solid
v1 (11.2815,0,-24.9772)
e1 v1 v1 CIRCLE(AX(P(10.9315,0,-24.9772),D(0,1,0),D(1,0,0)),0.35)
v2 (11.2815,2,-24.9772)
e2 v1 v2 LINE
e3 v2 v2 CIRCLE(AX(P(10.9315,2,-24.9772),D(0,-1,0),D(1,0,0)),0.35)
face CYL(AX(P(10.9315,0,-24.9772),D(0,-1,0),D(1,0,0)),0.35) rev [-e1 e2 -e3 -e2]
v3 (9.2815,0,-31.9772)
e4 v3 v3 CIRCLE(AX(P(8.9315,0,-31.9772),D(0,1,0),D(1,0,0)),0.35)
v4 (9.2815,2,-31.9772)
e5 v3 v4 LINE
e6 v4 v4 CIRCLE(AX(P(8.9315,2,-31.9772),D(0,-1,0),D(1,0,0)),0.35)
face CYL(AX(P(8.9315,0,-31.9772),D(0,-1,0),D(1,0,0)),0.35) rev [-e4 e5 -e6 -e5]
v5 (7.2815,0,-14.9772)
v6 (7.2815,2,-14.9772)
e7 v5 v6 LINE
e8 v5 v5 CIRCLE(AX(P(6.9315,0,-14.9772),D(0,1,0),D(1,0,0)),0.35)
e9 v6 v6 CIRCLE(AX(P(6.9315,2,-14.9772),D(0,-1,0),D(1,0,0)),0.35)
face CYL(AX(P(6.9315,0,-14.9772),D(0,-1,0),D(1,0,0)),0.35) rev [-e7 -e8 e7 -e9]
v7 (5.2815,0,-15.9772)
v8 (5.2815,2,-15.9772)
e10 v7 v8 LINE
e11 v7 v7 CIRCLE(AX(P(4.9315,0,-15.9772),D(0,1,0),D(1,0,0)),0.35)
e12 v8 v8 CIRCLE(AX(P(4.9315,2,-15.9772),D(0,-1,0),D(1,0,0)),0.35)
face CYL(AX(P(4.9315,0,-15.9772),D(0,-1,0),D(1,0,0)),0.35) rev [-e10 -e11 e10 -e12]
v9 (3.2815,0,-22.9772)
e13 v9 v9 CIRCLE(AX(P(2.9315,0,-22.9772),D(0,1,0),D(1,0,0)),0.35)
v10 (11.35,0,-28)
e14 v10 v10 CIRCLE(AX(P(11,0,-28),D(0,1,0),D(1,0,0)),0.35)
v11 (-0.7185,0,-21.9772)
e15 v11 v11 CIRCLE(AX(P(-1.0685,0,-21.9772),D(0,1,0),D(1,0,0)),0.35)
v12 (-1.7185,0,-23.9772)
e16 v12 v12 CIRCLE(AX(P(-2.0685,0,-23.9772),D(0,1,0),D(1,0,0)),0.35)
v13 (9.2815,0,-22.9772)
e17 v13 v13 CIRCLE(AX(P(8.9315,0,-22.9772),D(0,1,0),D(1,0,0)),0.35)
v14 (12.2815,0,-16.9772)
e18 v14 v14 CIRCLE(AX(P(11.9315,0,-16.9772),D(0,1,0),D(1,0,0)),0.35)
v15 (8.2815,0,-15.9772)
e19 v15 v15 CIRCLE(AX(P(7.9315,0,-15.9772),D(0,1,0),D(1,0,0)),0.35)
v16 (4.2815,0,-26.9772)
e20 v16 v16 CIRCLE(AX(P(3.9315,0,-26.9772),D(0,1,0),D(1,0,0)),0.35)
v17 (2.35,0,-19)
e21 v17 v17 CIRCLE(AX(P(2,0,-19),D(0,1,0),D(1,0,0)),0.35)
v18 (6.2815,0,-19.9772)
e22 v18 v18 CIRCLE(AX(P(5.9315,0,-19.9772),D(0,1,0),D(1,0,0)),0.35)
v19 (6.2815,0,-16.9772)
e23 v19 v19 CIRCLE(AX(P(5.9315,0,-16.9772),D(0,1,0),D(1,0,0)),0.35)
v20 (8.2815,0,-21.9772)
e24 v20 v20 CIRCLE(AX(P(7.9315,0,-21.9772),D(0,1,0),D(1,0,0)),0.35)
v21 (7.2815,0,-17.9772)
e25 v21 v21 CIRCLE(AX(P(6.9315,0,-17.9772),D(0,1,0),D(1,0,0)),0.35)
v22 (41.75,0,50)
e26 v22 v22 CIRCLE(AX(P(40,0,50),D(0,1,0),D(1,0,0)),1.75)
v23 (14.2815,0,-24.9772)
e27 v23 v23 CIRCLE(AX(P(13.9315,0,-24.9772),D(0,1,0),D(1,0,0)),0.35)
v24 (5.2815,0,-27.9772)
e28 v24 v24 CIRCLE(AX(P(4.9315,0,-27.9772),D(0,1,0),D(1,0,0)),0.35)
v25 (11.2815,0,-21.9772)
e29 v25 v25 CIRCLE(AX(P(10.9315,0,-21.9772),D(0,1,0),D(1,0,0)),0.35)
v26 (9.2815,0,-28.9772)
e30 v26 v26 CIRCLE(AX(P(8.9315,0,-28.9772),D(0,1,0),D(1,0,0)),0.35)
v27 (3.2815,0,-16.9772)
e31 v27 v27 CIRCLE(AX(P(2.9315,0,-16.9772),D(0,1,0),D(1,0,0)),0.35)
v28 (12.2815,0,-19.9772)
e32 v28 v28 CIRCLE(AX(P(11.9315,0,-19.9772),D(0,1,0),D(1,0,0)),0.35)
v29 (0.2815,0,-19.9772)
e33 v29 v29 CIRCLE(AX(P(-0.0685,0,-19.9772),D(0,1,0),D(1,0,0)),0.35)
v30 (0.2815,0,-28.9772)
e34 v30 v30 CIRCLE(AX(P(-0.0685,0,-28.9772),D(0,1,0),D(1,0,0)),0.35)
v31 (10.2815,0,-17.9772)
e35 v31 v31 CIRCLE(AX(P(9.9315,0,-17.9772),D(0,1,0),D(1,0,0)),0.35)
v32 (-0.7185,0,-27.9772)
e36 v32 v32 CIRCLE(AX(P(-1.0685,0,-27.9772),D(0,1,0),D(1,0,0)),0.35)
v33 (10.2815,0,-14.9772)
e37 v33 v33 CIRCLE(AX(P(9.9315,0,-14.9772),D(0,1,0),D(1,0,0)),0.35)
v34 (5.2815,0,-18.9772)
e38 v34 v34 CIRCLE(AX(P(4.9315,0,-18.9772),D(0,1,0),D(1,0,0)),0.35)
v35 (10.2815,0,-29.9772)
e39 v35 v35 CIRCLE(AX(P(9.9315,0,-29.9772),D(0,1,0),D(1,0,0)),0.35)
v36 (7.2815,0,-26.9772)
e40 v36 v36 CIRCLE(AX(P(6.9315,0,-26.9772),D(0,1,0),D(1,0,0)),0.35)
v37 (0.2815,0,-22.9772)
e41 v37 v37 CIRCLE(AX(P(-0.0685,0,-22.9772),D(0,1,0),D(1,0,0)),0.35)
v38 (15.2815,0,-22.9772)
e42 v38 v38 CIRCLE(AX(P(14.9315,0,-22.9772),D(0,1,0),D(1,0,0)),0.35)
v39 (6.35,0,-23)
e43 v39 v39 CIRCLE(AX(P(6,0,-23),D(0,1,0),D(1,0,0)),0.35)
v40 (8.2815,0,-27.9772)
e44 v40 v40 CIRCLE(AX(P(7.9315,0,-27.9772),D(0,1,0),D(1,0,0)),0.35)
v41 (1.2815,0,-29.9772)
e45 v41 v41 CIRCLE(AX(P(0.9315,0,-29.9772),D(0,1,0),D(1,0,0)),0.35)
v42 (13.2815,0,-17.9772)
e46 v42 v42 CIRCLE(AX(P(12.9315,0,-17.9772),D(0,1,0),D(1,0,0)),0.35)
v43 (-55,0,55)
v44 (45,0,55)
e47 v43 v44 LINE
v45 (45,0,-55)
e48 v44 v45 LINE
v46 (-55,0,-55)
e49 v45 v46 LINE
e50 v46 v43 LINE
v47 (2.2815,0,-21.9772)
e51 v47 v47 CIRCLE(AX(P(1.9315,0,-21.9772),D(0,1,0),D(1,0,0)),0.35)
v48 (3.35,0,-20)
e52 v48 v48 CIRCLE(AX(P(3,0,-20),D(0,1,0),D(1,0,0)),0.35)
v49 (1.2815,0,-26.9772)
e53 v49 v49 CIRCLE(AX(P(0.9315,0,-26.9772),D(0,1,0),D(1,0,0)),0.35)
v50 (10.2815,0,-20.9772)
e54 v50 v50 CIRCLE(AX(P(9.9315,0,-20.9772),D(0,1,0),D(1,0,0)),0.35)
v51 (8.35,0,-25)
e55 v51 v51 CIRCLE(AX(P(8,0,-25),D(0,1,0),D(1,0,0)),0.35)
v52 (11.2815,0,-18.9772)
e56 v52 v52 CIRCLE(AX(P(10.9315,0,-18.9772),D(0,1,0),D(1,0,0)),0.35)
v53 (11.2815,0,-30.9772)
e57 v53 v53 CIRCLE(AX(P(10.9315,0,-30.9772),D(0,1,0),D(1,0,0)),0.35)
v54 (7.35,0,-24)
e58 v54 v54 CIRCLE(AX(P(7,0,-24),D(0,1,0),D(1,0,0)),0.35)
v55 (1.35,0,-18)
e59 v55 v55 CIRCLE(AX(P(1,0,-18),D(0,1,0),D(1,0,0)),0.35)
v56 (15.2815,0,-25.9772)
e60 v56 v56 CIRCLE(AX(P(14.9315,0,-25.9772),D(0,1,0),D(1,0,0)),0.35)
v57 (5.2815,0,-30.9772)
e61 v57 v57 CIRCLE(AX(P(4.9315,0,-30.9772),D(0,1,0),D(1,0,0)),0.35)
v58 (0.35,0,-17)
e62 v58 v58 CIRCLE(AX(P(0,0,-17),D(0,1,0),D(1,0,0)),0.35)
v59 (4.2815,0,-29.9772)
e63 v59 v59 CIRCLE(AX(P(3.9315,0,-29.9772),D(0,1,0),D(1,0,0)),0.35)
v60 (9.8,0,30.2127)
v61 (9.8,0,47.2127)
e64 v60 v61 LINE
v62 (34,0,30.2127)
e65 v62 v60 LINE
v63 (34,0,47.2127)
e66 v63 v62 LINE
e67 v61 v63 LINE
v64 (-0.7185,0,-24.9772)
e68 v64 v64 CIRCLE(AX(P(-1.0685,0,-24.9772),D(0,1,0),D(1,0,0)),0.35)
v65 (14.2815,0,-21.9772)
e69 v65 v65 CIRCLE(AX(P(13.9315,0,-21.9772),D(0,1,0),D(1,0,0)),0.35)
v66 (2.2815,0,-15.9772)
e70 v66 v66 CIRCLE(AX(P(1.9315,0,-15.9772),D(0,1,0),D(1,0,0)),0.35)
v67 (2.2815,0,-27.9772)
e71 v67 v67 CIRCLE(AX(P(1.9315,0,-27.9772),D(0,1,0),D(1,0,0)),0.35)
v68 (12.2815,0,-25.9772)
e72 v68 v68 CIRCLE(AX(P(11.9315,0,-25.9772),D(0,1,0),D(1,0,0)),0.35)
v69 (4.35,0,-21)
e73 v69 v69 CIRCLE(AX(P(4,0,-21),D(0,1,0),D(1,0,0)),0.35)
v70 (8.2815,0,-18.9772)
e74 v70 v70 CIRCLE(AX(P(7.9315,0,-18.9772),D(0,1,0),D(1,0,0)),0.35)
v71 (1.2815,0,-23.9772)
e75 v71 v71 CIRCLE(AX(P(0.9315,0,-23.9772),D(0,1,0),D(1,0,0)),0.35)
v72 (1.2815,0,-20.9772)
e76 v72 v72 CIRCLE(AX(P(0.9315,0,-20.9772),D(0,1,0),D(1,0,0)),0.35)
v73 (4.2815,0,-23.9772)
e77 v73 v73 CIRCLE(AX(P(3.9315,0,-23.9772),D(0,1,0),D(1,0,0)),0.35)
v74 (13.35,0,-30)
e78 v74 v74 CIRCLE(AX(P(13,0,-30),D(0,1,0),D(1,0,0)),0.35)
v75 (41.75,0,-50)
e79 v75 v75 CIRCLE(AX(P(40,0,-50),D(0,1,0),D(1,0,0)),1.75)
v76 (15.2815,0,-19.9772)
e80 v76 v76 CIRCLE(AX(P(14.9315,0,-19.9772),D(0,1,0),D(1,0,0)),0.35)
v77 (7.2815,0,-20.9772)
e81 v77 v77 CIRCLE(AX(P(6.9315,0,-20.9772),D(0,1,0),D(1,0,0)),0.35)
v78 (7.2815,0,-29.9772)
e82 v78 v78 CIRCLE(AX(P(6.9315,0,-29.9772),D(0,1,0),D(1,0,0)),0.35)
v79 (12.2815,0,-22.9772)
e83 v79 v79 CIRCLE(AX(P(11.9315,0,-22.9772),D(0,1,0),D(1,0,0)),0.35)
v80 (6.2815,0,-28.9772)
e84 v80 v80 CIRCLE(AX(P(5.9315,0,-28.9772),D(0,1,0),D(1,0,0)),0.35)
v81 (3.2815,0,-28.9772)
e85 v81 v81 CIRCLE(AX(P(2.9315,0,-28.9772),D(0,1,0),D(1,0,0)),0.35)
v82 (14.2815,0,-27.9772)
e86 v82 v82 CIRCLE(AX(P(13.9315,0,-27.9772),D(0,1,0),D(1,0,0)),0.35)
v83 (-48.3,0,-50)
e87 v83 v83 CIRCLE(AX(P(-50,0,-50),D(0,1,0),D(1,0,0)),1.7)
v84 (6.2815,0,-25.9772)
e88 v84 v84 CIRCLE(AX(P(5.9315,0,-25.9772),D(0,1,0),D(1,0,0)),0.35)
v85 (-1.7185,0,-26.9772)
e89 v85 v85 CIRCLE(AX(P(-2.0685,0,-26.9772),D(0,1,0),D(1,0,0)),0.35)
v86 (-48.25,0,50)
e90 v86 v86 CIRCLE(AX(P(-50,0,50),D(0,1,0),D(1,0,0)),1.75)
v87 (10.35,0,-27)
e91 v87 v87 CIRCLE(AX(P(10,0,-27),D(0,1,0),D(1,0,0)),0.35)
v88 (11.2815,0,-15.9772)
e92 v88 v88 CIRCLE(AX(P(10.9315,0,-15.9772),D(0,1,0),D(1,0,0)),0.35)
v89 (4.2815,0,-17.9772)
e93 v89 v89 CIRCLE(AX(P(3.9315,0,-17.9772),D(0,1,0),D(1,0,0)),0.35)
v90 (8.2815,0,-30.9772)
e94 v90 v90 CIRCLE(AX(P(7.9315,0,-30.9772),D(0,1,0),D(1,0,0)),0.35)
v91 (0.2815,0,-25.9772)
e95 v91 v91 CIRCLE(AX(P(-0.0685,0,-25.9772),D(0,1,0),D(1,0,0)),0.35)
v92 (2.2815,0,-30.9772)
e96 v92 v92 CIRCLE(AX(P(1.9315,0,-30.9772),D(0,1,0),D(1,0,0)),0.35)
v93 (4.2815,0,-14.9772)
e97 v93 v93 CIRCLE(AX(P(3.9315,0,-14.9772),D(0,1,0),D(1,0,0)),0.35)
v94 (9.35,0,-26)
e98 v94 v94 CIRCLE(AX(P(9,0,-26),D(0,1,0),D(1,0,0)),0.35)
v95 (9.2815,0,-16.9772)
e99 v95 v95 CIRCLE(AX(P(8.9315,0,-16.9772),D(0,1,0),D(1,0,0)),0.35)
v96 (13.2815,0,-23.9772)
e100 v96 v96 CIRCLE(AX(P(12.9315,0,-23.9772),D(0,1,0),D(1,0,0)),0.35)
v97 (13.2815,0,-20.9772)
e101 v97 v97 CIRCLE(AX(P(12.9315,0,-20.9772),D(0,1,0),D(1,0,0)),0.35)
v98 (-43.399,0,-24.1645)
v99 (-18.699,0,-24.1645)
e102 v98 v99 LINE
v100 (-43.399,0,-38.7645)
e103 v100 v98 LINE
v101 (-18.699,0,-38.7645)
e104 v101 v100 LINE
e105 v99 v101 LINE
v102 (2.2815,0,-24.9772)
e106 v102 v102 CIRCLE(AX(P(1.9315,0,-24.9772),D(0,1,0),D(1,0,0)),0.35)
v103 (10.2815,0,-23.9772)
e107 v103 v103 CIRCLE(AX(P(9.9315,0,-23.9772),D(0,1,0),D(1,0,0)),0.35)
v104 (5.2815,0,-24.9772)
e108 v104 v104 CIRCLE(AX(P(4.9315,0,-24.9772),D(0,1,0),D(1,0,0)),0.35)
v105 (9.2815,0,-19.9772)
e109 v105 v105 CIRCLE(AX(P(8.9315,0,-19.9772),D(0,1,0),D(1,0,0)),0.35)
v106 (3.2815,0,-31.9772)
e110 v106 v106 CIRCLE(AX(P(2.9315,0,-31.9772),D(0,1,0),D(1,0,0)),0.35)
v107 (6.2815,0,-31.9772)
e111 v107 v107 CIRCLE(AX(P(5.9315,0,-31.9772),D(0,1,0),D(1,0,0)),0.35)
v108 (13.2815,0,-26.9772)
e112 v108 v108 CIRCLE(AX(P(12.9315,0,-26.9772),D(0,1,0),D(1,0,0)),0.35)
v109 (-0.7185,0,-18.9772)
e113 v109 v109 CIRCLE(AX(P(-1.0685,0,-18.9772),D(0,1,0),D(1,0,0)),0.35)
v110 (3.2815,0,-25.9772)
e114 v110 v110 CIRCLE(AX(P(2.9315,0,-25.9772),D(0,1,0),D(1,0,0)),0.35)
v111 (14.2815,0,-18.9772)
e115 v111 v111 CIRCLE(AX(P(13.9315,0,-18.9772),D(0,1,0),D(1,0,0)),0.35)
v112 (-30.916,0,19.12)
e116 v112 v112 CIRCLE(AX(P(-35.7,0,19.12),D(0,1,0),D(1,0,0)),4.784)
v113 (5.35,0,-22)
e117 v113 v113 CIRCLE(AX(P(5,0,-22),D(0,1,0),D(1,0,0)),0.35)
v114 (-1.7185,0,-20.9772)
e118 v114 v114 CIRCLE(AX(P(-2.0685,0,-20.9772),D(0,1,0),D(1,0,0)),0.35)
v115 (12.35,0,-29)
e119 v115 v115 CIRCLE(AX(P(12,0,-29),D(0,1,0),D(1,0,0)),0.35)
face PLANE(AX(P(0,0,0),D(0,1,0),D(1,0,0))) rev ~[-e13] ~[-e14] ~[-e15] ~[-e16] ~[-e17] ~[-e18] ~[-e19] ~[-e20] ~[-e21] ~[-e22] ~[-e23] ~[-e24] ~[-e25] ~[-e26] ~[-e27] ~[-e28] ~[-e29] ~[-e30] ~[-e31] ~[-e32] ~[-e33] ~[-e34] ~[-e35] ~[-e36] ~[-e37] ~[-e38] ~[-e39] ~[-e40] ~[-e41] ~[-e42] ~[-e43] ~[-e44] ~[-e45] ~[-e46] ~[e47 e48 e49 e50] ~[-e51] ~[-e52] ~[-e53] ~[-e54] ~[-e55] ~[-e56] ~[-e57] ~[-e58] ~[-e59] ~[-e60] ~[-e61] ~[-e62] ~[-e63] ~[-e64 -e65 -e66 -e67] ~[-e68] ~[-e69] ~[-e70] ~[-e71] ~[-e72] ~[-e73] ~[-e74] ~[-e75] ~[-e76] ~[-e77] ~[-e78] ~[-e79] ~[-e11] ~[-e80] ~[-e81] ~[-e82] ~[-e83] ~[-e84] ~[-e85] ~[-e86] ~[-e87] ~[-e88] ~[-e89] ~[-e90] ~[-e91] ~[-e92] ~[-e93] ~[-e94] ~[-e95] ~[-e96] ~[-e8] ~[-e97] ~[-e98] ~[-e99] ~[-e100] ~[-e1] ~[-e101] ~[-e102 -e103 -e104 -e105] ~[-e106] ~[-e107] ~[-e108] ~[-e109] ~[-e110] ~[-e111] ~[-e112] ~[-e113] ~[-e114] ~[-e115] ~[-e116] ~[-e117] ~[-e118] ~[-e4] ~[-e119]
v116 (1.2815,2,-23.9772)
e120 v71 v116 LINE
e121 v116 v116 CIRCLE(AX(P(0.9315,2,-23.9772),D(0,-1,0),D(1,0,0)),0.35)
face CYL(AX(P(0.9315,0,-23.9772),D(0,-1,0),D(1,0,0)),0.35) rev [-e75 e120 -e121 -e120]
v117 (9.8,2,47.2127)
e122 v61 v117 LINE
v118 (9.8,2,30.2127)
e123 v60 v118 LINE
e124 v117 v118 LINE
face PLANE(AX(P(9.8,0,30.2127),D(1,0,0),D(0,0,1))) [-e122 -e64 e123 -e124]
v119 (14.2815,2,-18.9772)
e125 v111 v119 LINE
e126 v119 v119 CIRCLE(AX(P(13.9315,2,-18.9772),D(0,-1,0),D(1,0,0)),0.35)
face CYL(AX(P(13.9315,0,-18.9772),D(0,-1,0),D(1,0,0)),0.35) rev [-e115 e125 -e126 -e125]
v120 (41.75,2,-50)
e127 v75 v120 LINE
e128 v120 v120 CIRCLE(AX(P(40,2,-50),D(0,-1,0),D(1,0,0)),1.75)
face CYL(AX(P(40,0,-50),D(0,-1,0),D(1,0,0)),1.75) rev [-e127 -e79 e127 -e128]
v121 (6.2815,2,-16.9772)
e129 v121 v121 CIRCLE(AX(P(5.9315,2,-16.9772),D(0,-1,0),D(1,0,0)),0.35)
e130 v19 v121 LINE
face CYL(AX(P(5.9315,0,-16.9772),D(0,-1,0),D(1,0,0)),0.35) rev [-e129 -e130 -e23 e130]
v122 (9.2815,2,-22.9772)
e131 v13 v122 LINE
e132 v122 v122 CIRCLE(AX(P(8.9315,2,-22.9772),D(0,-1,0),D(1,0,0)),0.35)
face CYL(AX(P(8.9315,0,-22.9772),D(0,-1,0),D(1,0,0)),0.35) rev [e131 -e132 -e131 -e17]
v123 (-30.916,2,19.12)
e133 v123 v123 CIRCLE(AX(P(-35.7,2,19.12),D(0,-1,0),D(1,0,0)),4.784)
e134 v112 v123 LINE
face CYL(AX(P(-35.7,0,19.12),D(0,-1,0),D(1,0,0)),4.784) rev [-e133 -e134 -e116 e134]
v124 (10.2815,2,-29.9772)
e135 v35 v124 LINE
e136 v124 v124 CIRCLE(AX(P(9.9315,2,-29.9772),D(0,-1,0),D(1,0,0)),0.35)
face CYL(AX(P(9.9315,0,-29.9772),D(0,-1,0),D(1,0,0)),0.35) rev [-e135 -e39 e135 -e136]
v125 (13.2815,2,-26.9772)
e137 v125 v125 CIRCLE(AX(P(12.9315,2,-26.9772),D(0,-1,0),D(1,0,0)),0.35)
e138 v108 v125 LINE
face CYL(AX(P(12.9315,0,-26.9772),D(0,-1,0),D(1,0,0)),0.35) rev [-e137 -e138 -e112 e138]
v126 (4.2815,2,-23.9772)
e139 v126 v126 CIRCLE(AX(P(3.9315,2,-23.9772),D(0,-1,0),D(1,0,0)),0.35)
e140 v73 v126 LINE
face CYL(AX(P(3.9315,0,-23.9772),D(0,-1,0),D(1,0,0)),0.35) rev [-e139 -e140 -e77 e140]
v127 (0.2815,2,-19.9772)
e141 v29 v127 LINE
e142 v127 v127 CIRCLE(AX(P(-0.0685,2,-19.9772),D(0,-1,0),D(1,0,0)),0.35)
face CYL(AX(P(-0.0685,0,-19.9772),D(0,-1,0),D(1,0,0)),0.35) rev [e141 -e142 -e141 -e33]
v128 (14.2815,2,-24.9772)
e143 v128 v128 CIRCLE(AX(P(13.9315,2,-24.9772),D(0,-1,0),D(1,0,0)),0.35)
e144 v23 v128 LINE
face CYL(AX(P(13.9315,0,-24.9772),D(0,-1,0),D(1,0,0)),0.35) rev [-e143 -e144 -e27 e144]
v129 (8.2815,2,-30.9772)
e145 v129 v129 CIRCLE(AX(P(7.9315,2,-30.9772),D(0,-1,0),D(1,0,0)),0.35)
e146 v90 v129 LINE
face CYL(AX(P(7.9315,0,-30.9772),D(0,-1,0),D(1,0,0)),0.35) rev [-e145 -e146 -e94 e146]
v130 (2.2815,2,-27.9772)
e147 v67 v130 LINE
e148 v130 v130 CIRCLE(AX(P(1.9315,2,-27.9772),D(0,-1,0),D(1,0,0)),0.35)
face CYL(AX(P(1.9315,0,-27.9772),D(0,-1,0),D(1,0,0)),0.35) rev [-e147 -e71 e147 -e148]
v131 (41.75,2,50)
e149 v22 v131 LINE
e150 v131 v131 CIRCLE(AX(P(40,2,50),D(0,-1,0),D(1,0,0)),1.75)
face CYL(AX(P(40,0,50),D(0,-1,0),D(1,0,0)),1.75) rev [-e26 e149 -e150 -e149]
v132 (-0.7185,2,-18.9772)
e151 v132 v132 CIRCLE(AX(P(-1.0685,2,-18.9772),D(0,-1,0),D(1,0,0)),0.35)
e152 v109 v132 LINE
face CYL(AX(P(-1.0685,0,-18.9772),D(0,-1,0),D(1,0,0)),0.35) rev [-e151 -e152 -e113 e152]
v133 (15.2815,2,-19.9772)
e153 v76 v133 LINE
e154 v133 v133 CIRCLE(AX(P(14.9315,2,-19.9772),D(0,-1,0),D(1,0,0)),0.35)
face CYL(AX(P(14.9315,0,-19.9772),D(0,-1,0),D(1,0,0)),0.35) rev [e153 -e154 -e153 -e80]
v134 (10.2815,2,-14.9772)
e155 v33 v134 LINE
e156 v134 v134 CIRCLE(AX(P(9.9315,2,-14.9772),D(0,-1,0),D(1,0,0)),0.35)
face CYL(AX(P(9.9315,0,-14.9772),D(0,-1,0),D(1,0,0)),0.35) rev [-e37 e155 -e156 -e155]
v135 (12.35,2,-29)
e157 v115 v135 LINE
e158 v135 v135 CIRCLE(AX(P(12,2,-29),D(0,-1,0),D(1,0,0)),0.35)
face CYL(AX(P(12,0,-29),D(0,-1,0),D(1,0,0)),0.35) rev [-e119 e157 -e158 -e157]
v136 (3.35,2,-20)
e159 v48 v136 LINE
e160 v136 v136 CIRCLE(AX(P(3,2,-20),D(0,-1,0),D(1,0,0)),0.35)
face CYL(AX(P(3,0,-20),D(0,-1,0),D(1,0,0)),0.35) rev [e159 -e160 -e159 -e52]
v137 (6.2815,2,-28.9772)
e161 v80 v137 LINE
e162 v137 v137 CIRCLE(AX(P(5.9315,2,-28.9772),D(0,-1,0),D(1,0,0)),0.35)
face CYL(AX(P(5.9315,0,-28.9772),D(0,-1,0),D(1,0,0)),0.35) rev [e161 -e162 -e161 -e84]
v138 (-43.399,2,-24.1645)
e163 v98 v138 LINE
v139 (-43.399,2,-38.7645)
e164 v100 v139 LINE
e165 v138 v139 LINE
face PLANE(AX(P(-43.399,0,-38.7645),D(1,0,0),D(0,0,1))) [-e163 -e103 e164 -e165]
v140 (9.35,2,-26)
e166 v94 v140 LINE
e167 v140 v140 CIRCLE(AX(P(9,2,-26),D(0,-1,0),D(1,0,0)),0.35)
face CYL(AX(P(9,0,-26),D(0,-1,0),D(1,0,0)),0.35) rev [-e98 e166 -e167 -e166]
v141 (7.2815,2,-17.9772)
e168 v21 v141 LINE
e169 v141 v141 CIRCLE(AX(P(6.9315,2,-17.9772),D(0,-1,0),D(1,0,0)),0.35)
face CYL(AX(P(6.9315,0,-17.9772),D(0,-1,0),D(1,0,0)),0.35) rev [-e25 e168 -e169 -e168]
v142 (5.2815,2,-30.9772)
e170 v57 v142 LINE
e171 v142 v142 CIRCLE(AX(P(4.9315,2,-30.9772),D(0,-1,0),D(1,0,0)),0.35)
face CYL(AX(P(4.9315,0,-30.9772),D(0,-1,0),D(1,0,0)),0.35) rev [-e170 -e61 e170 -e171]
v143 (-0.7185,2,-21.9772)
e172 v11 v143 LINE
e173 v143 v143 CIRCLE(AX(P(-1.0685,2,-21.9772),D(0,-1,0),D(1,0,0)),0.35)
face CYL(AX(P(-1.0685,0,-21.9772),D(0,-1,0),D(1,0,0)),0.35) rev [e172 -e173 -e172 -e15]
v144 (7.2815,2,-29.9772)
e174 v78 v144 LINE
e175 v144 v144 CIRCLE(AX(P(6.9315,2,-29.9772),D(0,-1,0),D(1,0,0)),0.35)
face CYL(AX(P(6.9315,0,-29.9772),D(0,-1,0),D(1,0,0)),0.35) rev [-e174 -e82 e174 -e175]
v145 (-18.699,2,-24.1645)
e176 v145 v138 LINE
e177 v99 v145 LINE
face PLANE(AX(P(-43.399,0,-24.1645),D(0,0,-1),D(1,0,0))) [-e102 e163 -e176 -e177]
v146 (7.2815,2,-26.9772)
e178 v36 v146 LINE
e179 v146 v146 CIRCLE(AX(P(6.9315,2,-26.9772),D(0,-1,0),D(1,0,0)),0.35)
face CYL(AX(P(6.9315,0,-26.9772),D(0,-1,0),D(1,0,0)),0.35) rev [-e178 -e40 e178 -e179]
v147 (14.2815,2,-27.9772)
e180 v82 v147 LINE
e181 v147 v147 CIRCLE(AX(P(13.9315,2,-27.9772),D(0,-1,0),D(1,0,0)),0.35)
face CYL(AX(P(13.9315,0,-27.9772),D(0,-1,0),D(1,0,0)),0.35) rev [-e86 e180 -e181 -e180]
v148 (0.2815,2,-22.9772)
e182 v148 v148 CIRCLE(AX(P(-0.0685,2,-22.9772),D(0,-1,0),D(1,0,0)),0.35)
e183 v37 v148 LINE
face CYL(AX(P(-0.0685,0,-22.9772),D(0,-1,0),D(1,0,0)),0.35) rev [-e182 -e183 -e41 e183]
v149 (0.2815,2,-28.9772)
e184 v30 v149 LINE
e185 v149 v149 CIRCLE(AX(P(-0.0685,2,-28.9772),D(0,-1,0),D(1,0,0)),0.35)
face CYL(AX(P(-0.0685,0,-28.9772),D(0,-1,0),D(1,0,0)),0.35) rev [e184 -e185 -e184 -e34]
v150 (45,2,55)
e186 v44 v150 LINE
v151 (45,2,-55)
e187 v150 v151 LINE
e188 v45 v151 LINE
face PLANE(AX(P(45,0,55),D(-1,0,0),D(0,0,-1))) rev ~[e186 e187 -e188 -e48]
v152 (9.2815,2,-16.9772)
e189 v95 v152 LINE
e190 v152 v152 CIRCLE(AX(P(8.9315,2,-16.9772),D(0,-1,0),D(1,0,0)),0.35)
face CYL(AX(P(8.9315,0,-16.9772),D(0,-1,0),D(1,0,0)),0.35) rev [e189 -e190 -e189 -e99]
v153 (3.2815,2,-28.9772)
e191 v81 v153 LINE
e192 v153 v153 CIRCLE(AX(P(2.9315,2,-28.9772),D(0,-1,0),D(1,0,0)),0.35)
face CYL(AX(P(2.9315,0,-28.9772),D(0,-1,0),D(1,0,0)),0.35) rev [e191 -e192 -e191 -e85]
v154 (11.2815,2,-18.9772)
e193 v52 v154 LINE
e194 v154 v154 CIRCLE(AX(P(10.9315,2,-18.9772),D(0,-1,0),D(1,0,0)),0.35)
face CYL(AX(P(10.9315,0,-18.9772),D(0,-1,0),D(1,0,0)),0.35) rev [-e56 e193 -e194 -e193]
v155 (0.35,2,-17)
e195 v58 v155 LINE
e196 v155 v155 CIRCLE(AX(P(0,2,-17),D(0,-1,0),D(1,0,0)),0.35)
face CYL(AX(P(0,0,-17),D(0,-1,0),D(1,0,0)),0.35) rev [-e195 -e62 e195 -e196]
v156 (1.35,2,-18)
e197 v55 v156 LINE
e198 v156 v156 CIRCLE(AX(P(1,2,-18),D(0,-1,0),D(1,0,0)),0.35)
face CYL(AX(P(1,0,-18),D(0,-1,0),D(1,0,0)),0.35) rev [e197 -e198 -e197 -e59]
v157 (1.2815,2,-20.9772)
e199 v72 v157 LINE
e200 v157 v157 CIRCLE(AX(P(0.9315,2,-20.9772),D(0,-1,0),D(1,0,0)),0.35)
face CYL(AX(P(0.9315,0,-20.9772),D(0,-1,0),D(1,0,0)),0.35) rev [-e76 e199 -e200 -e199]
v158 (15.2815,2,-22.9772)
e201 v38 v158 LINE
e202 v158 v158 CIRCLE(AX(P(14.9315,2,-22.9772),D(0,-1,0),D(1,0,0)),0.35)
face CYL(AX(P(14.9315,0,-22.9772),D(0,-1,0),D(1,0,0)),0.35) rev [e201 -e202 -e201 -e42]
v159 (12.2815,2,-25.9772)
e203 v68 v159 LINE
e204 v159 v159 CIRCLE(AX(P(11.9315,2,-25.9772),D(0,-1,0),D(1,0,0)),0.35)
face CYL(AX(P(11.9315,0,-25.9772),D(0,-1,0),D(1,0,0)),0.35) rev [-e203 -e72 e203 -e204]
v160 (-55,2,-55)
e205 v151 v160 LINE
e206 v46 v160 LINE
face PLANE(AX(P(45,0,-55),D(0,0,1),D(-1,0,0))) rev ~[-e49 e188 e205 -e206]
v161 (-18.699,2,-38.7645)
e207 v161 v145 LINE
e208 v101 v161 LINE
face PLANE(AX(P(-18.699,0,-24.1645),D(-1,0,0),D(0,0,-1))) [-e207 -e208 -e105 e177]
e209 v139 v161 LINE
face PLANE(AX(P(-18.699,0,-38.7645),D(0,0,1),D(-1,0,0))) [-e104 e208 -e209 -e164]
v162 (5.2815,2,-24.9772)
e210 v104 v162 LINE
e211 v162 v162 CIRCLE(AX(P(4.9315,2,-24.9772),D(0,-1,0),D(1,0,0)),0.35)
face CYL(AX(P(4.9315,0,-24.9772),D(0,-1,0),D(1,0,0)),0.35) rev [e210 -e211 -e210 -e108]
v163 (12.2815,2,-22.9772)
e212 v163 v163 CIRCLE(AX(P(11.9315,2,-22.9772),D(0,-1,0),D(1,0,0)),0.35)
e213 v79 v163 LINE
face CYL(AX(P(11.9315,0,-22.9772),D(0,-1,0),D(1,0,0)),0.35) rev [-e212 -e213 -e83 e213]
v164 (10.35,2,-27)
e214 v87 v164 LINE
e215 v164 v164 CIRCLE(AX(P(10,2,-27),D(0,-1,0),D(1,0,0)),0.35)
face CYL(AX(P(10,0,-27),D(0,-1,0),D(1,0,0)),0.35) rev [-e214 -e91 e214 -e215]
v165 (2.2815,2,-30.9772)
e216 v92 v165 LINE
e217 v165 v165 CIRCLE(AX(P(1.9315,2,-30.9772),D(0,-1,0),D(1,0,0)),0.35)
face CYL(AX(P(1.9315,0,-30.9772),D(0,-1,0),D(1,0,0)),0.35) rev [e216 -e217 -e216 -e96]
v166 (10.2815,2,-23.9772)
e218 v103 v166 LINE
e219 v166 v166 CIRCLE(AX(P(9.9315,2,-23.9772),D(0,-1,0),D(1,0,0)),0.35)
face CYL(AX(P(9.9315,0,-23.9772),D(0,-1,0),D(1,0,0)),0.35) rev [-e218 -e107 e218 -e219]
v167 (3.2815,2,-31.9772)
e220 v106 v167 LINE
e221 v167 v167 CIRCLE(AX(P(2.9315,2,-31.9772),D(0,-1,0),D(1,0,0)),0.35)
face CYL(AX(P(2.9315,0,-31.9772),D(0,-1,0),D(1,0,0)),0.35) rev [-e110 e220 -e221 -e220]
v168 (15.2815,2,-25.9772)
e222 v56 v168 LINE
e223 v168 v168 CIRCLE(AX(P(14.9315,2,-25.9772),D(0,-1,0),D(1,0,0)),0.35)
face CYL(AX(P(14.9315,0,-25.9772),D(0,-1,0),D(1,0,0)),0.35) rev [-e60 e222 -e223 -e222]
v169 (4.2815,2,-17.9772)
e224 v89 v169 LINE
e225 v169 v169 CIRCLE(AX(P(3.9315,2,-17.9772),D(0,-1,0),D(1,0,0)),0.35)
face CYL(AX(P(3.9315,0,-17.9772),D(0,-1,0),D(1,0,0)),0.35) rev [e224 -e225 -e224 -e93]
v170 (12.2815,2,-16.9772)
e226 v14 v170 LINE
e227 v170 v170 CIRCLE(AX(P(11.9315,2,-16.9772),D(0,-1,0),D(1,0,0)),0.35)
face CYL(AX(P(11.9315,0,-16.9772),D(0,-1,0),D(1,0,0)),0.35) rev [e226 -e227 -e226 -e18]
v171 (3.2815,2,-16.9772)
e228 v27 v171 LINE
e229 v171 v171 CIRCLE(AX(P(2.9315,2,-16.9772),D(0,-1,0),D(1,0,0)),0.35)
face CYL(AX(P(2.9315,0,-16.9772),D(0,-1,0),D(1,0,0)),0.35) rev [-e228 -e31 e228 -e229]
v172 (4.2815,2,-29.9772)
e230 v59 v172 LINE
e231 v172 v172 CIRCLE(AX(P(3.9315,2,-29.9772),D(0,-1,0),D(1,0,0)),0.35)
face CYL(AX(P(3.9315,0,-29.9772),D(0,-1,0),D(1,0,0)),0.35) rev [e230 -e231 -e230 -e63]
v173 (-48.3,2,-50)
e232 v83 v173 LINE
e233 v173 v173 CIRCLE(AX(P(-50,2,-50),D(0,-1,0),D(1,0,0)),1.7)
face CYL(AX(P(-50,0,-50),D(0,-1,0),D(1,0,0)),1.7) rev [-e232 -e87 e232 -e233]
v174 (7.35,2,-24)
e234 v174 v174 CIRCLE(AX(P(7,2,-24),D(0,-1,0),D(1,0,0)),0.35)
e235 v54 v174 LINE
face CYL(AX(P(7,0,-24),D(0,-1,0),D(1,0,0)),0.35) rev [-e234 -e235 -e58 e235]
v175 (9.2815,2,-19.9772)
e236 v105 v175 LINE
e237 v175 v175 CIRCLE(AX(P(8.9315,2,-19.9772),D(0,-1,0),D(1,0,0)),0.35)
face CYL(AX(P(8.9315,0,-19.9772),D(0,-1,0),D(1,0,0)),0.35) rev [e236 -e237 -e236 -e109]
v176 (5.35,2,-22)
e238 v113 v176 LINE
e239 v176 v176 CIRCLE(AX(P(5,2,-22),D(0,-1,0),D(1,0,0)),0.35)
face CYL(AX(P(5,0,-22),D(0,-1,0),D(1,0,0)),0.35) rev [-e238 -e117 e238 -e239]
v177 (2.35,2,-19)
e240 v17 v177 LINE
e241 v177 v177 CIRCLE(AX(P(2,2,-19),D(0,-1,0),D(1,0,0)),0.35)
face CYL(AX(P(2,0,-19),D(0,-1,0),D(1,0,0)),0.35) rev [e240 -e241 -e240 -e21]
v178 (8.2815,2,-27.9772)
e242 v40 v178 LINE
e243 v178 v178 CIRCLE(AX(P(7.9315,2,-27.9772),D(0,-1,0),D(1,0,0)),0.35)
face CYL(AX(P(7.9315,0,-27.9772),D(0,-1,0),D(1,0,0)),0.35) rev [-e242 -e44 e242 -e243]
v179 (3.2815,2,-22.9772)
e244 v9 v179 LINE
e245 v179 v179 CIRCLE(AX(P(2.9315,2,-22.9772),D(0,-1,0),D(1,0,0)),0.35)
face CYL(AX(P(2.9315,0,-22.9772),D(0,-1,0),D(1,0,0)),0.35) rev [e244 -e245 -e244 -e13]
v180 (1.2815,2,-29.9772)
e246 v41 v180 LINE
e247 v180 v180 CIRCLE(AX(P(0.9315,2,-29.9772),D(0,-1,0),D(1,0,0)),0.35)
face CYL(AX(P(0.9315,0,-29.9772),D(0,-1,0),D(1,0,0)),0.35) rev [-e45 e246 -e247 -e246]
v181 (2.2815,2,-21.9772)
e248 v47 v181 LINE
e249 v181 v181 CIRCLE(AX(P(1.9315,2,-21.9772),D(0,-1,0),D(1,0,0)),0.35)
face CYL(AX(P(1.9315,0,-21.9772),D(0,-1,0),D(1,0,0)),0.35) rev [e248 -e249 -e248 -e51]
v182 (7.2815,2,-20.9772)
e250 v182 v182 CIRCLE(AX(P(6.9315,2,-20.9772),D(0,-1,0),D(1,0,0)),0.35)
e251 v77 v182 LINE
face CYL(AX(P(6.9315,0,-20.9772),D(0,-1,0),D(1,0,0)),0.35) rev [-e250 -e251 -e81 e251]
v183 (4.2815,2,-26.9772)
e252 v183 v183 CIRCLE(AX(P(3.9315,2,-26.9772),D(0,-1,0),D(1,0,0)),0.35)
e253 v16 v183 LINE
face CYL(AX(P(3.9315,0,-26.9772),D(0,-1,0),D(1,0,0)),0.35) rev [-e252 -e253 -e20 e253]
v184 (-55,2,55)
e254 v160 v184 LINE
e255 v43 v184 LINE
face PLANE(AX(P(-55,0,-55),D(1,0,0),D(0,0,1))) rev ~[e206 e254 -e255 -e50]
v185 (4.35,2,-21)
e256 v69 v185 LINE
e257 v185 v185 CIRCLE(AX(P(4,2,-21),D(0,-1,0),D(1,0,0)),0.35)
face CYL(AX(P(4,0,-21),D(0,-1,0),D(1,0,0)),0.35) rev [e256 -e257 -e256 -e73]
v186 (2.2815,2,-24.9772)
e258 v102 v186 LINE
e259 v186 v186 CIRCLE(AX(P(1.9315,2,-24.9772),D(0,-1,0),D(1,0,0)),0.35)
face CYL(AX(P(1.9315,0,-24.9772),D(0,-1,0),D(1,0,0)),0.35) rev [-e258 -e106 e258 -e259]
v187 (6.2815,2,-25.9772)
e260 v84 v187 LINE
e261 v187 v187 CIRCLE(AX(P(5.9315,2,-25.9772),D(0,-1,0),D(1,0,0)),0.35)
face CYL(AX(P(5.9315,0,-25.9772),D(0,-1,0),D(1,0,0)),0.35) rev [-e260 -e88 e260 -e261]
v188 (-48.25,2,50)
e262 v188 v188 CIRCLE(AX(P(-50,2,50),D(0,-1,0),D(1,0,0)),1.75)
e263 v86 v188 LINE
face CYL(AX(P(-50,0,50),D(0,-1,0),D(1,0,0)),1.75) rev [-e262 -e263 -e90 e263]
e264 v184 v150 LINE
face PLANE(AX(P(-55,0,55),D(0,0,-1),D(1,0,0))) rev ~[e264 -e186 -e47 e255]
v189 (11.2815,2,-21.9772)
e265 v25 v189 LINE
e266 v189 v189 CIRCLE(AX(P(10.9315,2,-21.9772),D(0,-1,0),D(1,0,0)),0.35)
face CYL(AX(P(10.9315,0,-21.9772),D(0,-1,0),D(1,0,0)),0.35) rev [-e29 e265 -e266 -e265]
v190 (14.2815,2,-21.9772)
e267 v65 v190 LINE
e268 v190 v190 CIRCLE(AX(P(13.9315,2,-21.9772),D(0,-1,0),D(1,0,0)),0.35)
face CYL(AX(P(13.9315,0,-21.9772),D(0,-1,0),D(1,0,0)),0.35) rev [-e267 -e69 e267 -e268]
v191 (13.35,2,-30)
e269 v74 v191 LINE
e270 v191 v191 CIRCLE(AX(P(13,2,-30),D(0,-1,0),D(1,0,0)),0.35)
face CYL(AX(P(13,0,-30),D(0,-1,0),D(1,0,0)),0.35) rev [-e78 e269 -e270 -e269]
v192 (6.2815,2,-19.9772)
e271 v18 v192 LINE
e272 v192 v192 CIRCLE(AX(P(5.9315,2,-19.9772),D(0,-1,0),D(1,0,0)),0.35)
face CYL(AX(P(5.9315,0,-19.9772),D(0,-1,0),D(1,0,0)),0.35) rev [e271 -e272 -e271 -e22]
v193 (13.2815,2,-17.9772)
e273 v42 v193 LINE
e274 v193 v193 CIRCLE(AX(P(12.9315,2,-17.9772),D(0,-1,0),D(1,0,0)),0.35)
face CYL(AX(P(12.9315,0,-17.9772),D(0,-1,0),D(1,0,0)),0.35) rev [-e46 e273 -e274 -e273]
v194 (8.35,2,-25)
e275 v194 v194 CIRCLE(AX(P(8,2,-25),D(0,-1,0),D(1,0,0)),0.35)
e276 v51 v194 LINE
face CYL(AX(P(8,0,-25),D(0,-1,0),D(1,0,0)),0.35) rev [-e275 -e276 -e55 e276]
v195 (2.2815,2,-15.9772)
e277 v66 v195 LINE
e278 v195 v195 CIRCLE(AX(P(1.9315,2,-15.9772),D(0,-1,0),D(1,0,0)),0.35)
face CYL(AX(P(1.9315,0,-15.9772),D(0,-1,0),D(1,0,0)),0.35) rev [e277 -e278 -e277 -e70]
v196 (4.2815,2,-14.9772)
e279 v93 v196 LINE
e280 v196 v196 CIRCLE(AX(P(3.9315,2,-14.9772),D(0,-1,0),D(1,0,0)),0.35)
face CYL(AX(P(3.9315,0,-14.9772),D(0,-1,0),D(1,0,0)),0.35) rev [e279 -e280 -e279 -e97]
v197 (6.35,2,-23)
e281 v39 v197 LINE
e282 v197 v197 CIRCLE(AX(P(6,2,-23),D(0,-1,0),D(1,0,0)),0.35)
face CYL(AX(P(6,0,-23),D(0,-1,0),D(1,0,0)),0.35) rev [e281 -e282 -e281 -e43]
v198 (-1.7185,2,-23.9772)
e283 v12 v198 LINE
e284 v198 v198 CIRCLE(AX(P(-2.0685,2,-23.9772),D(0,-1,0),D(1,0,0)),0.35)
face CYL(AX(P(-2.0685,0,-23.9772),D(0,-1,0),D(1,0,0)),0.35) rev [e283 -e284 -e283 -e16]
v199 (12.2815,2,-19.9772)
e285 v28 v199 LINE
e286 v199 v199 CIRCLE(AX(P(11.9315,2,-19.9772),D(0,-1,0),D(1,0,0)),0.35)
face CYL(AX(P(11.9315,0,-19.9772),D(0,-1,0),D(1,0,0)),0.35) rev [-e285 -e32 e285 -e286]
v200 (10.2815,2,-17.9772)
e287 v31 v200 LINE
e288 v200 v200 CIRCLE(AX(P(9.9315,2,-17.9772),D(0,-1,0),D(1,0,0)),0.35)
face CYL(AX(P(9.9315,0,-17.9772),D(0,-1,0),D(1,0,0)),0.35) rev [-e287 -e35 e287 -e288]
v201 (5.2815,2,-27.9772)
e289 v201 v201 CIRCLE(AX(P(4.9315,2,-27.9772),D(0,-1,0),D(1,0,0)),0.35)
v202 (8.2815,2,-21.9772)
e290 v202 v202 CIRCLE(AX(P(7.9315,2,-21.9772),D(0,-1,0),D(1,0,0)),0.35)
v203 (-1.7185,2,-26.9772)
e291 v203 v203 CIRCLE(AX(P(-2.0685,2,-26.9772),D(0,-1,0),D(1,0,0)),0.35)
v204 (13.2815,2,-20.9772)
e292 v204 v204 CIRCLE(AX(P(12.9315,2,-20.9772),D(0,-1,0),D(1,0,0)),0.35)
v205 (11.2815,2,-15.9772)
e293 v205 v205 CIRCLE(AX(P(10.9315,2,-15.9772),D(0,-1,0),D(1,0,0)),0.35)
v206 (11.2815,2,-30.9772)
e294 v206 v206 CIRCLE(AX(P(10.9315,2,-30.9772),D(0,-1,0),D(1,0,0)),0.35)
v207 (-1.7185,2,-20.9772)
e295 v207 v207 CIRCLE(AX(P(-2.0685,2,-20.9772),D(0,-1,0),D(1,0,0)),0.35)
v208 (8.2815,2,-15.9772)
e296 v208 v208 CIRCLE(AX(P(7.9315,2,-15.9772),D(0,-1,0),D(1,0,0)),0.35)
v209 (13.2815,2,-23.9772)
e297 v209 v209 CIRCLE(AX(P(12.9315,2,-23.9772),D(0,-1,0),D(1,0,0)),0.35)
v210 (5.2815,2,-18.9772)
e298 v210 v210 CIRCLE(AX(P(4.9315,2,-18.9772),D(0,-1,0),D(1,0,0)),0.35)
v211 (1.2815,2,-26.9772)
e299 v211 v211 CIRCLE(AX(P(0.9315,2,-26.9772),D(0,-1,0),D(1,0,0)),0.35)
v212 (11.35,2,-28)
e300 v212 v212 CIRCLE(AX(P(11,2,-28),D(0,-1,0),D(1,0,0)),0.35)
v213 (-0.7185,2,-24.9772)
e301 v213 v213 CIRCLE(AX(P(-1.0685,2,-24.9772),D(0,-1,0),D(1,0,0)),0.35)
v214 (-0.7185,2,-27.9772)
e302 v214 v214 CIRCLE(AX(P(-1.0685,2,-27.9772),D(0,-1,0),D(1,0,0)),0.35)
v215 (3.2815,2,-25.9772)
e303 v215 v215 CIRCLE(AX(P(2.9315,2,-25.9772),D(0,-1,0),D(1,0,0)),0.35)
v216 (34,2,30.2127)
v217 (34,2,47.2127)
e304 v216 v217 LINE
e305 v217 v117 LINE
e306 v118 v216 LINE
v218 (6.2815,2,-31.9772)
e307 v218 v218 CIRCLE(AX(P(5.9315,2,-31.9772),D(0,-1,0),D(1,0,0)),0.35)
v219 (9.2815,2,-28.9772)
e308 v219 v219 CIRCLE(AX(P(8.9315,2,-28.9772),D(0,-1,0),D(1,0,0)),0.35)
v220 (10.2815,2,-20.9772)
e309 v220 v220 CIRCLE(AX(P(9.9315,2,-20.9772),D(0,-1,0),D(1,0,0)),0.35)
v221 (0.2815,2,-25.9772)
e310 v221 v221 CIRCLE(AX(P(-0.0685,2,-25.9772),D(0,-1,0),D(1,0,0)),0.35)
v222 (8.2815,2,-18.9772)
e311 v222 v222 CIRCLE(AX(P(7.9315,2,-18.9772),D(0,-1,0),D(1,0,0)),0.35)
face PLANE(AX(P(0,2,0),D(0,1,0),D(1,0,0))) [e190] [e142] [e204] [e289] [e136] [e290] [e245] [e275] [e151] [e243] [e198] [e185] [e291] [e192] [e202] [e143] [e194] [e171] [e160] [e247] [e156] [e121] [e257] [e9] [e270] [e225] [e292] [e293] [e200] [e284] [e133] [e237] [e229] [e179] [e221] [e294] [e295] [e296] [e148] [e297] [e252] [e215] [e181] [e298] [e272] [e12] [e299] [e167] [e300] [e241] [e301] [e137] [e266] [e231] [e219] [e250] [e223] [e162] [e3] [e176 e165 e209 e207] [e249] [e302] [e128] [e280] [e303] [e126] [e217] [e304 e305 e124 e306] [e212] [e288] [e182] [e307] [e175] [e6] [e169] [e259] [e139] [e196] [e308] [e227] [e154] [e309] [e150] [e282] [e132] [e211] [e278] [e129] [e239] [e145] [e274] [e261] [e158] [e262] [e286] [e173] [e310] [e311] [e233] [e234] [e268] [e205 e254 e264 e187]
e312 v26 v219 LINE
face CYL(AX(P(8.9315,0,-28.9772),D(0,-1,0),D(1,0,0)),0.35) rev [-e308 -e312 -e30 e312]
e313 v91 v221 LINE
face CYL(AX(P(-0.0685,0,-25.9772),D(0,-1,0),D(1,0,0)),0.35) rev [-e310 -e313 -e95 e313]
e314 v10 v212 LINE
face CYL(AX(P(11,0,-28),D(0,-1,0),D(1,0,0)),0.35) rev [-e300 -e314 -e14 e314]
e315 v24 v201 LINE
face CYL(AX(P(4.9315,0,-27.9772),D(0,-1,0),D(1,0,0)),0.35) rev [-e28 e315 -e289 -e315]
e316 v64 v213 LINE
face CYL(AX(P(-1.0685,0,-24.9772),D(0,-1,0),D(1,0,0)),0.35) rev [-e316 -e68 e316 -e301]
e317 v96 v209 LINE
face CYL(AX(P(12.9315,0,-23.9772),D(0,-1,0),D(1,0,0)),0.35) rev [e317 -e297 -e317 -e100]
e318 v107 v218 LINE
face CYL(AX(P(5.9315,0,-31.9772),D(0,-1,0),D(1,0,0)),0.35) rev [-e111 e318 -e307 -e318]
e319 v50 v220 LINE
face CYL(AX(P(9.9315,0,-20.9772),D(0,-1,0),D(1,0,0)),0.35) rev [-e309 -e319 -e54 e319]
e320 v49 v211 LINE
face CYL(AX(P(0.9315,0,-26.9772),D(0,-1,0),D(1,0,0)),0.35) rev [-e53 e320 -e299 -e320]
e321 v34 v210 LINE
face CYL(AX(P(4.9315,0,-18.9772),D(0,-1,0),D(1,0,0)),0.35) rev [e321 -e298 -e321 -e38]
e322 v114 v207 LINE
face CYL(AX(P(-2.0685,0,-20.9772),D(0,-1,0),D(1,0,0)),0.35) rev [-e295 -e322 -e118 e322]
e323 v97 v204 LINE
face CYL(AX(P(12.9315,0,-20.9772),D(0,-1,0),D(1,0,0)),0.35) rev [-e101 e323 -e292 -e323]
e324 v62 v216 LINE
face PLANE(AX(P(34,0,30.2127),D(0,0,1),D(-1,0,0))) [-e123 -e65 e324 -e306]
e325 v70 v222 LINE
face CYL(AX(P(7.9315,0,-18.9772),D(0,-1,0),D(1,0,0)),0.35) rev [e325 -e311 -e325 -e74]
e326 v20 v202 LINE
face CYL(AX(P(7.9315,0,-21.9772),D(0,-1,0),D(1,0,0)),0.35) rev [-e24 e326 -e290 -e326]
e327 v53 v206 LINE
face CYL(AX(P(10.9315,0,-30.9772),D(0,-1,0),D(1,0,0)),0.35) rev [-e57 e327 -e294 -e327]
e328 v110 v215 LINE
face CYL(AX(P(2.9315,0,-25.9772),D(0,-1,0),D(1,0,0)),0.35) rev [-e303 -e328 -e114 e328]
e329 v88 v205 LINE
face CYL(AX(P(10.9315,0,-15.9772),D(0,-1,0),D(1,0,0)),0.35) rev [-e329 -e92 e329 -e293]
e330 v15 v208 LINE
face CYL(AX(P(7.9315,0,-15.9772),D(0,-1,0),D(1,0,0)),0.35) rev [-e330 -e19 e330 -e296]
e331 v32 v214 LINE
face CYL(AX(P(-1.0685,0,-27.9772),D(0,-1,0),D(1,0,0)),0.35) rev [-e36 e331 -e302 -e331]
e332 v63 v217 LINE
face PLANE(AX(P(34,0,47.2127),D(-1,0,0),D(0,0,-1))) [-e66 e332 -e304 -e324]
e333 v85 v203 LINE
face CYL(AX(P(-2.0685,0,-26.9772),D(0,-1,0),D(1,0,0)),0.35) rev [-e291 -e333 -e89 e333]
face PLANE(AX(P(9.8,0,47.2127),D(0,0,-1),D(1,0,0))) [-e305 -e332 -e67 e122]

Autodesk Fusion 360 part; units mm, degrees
sketch "Sketch1" plane through (0, 0, 0) normal (0, 1, 0) x (1, 0, 0)
  line L0 (-50, -50) -> (40, -50)
  line L1 (40, -50) -> (40, 50)
  line L2 (40, 50) -> (-50, 50)
  line L3 (-50, 50) -> (-50, -50)
  dimension "d1" = 90
  dimension "d2" = 100
sketch "Sketch2" plane through (0, 0, 0) normal (0, 1, 0) x (1, 0, 0)
sketch "Sketch3" plane through (0, 0, 0) normal (0, 1, 0) x (1, 0, 0)
sketch "Sketch4" plane through (0, 0, 0) normal (0, 1, 0) x (1, 0, 0)
  line L0 (-43.399, 24.1645) -> (-18.699, 24.1645)
  line L1 (-18.699, 24.1645) -> (-18.699, 38.7645)
  line L2 (-18.699, 38.7645) -> (-43.399, 38.7645)
  line L3 (-43.399, 38.7645) -> (-43.399, 24.1645)
  dimension "d10" = 24.7
  dimension "d11" = 14.6
sketch "Sketch5" plane through (0, 0, 0) normal (0, 1, 0) x (1, 0, 0)
  circle A0 centre (-35.7, -19.12) radius 4.784
  circle A1 centre (0, 17) radius 0.35
  circle A2 centre (1, 18) radius 0.35
  circle A3 centre (2, 19) radius 0.35
  circle A4 centre (3, 20) radius 0.35
  circle A5 centre (4, 21) radius 0.35
  circle A6 centre (5, 22) radius 0.35
  circle A7 centre (6, 23) radius 0.35
  circle A8 centre (7, 24) radius 0.35
  circle A9 centre (8, 25) radius 0.35
  circle A10 centre (9, 26) radius 0.35
  circle A11 centre (10, 27) radius 0.35
  circle A12 centre (11, 28) radius 0.35
  circle A13 centre (12, 29) radius 0.35
  circle A14 centre (13, 30) radius 0.35
  circle A15 centre (1.9315, 15.9772) radius 0.35
  circle A16 centre (2.9315, 16.9772) radius 0.35
  circle A17 centre (3.9315, 17.9772) radius 0.35
  circle A18 centre (4.9315, 18.9772) radius 0.35
  circle A19 centre (5.9315, 19.9772) radius 0.35
  circle A20 centre (6.9315, 20.9772) radius 0.35
  circle A21 centre (7.9315, 21.9772) radius 0.35
  circle A22 centre (8.9315, 22.9772) radius 0.35
  circle A23 centre (1, 18) radius 0.35
  circle A24 centre (11.9315, 25.9772) radius 0.35
  circle A25 centre (10.9315, 24.9772) radius 0.35
  circle A26 centre (9.9315, 23.9772) radius 0.35
  circle A27 centre (12.9315, 26.9772) radius 0.35
  circle A28 centre (13.9315, 27.9772) radius 0.35
  circle A29 centre (13.9315, 24.9772) radius 0.35
  circle A30 centre (12.9315, 23.9772) radius 0.35
  circle A31 centre (11.9315, 22.9772) radius 0.35
  circle A32 centre (10.9315, 21.9772) radius 0.35
  circle A33 centre (9.9315, 20.9772) radius 0.35
  circle A34 centre (8.9315, 19.9772) radius 0.35
  circle A35 centre (7.9315, 18.9772) radius 0.35
  circle A36 centre (6.9315, 17.9772) radius 0.35
  circle A37 centre (5.9315, 16.9772) radius 0.35
  circle A38 centre (4.9315, 15.9772) radius 0.35
  circle A39 centre (3.9315, 14.9772) radius 0.35
  circle A40 centre (14.9315, 25.9772) radius 0.35
  circle A41 centre (6.9315, 14.9772) radius 0.35
  circle A42 centre (7.9315, 15.9772) radius 0.35
  circle A43 centre (8.9315, 16.9772) radius 0.35
  circle A44 centre (9.9315, 17.9772) radius 0.35
  circle A45 centre (10.9315, 18.9772) radius 0.35
  circle A46 centre (11.9315, 19.9772) radius 0.35
  circle A47 centre (12.9315, 20.9772) radius 0.35
  circle A48 centre (13.9315, 21.9772) radius 0.35
  circle A49 centre (14.9315, 22.9772) radius 0.35
  circle A50 centre (14.9315, 19.9772) radius 0.35
  circle A51 centre (13.9315, 18.9772) radius 0.35
  circle A52 centre (12.9315, 17.9772) radius 0.35
  circle A53 centre (11.9315, 16.9772) radius 0.35
  circle A54 centre (10.9315, 15.9772) radius 0.35
  circle A55 centre (9.9315, 14.9772) radius 0.35
  circle A56 centre (10.9315, 30.9772) radius 0.35
  circle A57 centre (9.9315, 29.9772) radius 0.35
  circle A58 centre (8.9315, 28.9772) radius 0.35
  circle A59 centre (7.9315, 27.9772) radius 0.35
  circle A60 centre (6.9315, 26.9772) radius 0.35
  circle A61 centre (5.9315, 25.9772) radius 0.35
  circle A62 centre (4.9315, 24.9772) radius 0.35
  circle A63 centre (3.9315, 23.9772) radius 0.35
  circle A64 centre (2.9315, 22.9772) radius 0.35
  circle A65 centre (1.9315, 21.9772) radius 0.35
  circle A66 centre (0.9315, 20.9772) radius 0.35
  circle A67 centre (-0.0685, 19.9772) radius 0.35
  circle A68 centre (-1.0685, 18.9772) radius 0.35
  circle A69 centre (-2.0685, 20.9772) radius 0.35
  circle A70 centre (-1.0685, 21.9772) radius 0.35
  circle A71 centre (-0.0685, 22.9772) radius 0.35
  circle A72 centre (0.9315, 23.9772) radius 0.35
  circle A73 centre (1.9315, 24.9772) radius 0.35
  circle A74 centre (2.9315, 25.9772) radius 0.35
  circle A75 centre (3.9315, 26.9772) radius 0.35
  circle A76 centre (4.9315, 27.9772) radius 0.35
  circle A77 centre (5.9315, 28.9772) radius 0.35
  circle A78 centre (6.9315, 29.9772) radius 0.35
  circle A79 centre (7.9315, 30.9772) radius 0.35
  circle A80 centre (8.9315, 31.9772) radius 0.35
  circle A81 centre (-2.0685, 23.9772) radius 0.35
  circle A82 centre (-1.0685, 24.9772) radius 0.35
  circle A83 centre (-0.0685, 25.9772) radius 0.35
  circle A84 centre (0.9315, 26.9772) radius 0.35
  circle A85 centre (1.9315, 27.9772) radius 0.35
  circle A86 centre (2.9315, 28.9772) radius 0.35
  circle A87 centre (3.9315, 29.9772) radius 0.35
  circle A88 centre (4.9315, 30.9772) radius 0.35
  circle A89 centre (5.9315, 31.9772) radius 0.35
  circle A90 centre (-2.0685, 26.9772) radius 0.35
  circle A91 centre (-1.0685, 27.9772) radius 0.35
  circle A92 centre (-0.0685, 28.9772) radius 0.35
  circle A93 centre (0.9315, 29.9772) radius 0.35
  circle A94 centre (1.9315, 30.9772) radius 0.35
  circle A95 centre (2.9315, 31.9772) radius 0.35
  dimension "d16" = 9.568
  dimension "d20" = 0.7
  dimension "d21" = 0.7
  dimension "d22" = 0.7
  dimension "d23" = 0.7
  dimension "d24" = 0.7
  dimension "d25" = 0.7
  dimension "d26" = 0.7
  dimension "d27" = 0.7
  dimension "d28" = 0.7
  dimension "d29" = 0.7
  dimension "d30" = 0.7
  dimension "d31" = 0.7
  dimension "d32" = 0.7
  dimension "d33" = 0.7
  dimension "d34" = 0.7
  dimension "d35" = 0.7
  dimension "d36" = 0.7
  dimension "d37" = 0.7
  dimension "d38" = 0.7
  dimension "d39" = 0.7
  dimension "d40" = 0.7
  dimension "d41" = 0.7
  dimension "d42" = 0.7
  dimension "d43" = 0.7
  dimension "d44" = 0.7
  dimension "d45" = 0.7
  dimension "d46" = 0.7
  dimension "d47" = 0.7
  dimension "d48" = 0.7
  dimension "d49" = 0.7
  dimension "d50" = 0.7
  dimension "d51" = 0.7
  dimension "d52" = 0.7
  dimension "d53" = 0.7
  dimension "d54" = 0.7
  dimension "d55" = 0.7
  dimension "d56" = 0.7
  dimension "d57" = 0.7
  dimension "d58" = 0.7
  dimension "d59" = 0.7
  dimension "d60" = 0.7
  dimension "d61" = 0.7
  dimension "d62" = 0.7
  dimension "d63" = 0.7
  dimension "d64" = 0.7
  dimension "d65" = 0.7
  dimension "d66" = 0.7
  dimension "d67" = 0.7
  dimension "d68" = 0.7
  dimension "d71" = 0.7
  dimension "d72" = 0.7
  dimension "d73" = 0.7
  dimension "d74" = 0.7
  dimension "d75" = 0.7
  dimension "d76" = 0.7
  dimension "d77" = 0.7
  dimension "d78" = 0.7
  dimension "d79" = 0.7
  dimension "d80" = 0.7
  dimension "d81" = 0.7
  dimension "d82" = 0.7
  dimension "d83" = 0.7
  dimension "d84" = 0.7
  dimension "d85" = 0.7
  dimension "d86" = 0.7
  dimension "d87" = 0.7
  dimension "d88" = 0.7
  dimension "d89" = 0.7
  dimension "d90" = 0.7
  dimension "d91" = 0.7
  dimension "d92" = 0.7
  dimension "d93" = 0.7
  dimension "d94" = 0.7
  dimension "d95" = 0.7
  dimension "d96" = 0.7
  dimension "d97" = 0.7
  dimension "d98" = 0.7
  dimension "d99" = 0.7
  dimension "d100" = 0.7
  dimension "d101" = 0.7
  dimension "d102" = 0.7
  dimension "d103" = 0.7
  dimension "d104" = 0.7
  dimension "d105" = 0.7
  dimension "d106" = 0.7
  dimension "d107" = 0.7
  dimension "d108" = 0.7
  dimension "d109" = 0.7
  dimension "d110" = 0.7
  dimension "d111" = 0.7
  dimension "d112" = 0.7
  dimension "d113" = 0.7
  dimension "d114" = 0.7
  dimension "d115" = 0.7
  dimension "d116" = 0.7
sketch "Sketch6" plane through (0, 0, 0) normal (0, 1, 0) x (1, 0, 0)
  circle A0 centre (20.89, -19.3) radius 0.8835
  dimension "d119" = 1.767
sketch "Sketch7" plane through (0, 0, 0) normal (0, 1, 0) x (1, 0, 0)
  line L0 (9.8, -47.2127) -> (34, -47.2127)
  line L1 (34, -47.2127) -> (34, -30.2127)
  line L2 (34, -30.2127) -> (9.8, -30.2127)
  line L3 (9.8, -30.2127) -> (9.8, -47.2127)
extrude "Extrude1" add sketch "Sketch1" along normal blind 2
sketch "Sketch8" plane through (0, 0, 0) normal (0, 1, 0) x (1, 0, 0)
  point P0 (-50, -50)
  point P1 (-50, 50)
  point P2 (40, -50)
  dimension "d131" = 100
  dimension "d132" = 90
sketch "Sketch9" plane through (0, 0, 0) normal (0, 1, 0) x (1, 0, 0)
sketch "Sketch10" plane through (0, 0, 0) normal (0, 1, 0) x (1, 0, 0)
sketch "Sketch11" plane through (0, 0, 0) normal (0, 1, 0) x (1, 0, 0)
sketch "Sketch12" plane through (0, 0, 0) normal (0, 1, 0) x (1, 0, 0)
  line L0 (-55, -55) -> (45, -55)
  line L1 (45, -55) -> (45, 55)
  line L2 (45, 55) -> (-55, 55)
  line L3 (-55, 55) -> (-55, -55)
extrude "Extrude2" add sketch "Sketch12" along normal blind 2
sketch "Sketch13" plane through (0, 0, 0) normal (0, 1, 0) x (1, 0, 0)
  point P0 (-55, -55)
  point P1 (45, -55)
  point P2 (-55, 55)
  dimension "d152" = 100
  dimension "d153" = 110
sketch "Sketch14" plane through (0, 0, 0) normal (0, 1, 0) x (1, 0, 0)
  line L0 (-49.3432, -49.6395) -> (38.5182, -49.6395)
  line L1 (38.5182, -49.6395) -> (38.5182, 49.7036)
  line L2 (38.5182, 49.7036) -> (-49.3432, 49.7036)
  line L3 (-49.3432, 49.7036) -> (-49.3432, -49.6395)
extrude "Extrude3" add sketch "Sketch14" along normal blind 2
extrude "Extrude4" cut sketch "Sketch7" sketch "Sketch4" sketch "Sketch5" along normal blind 75 of sketch 2 of sketch 3 contours A0
extrude "Extrude5" cut sketch "Sketch5" along normal blind 15 contours A1 | A2 A23 | A3 | A4 | A5 | A6 | A7 | A8 | A9 | A10 | A11 | A12 | A13 | A14 | A15 | A16 | A17 | A18 | A19 | A20 | A21 | A22 | A24 | A25 | A26 | A27 | A28 | A29 | A30 | A31 | A32 | A33 | A34 | A35 | A36 | A37 | A38 | A39 | A40 | A41 | A42 | A43 | A44 | A45 | A46 | A47 | A48 | A49 | A50 | A51 | A52 | A53 | A54 | A55 | A56 | A57 | A58 | A59 | A60 | A61 | A62 | A63 | A64 | A65 | A66 | A67 | A68 | A69 | A70 | A71 | A72 | A73 | A74 | A75 | A76 | A77 | A78 | A79 | A80 | A81 | A82 | A83 | A84 | A85 | A86 | A87 | A88 | A89 | A90 | A91 | A92 | A93 | A94 | A95
sketch "Sketch15" plane through (0, 0, 0) normal (0, 1, 0) x (1, 0, 0)
sketch "Sketch16" plane through (0, 0, 0) normal (0, 1, 0) x (1, 0, 0)
  circle A0 centre (-50, -50) radius 1.75
  circle A1 centre (40, -50) radius 1.75
  circle A2 centre (-50, 50) radius 1.7
  circle A3 centre (40, 50) radius 1.75
  dimension "d170" = 3.5
  dimension "d172" = 3.5
  dimension "d173" = 3.4
  dimension "d174" = 3.5
extrude "Extrude6" cut sketch "Sketch16" along normal blind 8
sketch "Sketch17" plane through (0, 0, 0) normal (0, 1, 0) x (1, 0, 0)
  point P0 (-55, -55)
  point P1 (45, -55)
  point P2 (45, 55)
  dimension "d177" = 100
  dimension "d178" = 110
